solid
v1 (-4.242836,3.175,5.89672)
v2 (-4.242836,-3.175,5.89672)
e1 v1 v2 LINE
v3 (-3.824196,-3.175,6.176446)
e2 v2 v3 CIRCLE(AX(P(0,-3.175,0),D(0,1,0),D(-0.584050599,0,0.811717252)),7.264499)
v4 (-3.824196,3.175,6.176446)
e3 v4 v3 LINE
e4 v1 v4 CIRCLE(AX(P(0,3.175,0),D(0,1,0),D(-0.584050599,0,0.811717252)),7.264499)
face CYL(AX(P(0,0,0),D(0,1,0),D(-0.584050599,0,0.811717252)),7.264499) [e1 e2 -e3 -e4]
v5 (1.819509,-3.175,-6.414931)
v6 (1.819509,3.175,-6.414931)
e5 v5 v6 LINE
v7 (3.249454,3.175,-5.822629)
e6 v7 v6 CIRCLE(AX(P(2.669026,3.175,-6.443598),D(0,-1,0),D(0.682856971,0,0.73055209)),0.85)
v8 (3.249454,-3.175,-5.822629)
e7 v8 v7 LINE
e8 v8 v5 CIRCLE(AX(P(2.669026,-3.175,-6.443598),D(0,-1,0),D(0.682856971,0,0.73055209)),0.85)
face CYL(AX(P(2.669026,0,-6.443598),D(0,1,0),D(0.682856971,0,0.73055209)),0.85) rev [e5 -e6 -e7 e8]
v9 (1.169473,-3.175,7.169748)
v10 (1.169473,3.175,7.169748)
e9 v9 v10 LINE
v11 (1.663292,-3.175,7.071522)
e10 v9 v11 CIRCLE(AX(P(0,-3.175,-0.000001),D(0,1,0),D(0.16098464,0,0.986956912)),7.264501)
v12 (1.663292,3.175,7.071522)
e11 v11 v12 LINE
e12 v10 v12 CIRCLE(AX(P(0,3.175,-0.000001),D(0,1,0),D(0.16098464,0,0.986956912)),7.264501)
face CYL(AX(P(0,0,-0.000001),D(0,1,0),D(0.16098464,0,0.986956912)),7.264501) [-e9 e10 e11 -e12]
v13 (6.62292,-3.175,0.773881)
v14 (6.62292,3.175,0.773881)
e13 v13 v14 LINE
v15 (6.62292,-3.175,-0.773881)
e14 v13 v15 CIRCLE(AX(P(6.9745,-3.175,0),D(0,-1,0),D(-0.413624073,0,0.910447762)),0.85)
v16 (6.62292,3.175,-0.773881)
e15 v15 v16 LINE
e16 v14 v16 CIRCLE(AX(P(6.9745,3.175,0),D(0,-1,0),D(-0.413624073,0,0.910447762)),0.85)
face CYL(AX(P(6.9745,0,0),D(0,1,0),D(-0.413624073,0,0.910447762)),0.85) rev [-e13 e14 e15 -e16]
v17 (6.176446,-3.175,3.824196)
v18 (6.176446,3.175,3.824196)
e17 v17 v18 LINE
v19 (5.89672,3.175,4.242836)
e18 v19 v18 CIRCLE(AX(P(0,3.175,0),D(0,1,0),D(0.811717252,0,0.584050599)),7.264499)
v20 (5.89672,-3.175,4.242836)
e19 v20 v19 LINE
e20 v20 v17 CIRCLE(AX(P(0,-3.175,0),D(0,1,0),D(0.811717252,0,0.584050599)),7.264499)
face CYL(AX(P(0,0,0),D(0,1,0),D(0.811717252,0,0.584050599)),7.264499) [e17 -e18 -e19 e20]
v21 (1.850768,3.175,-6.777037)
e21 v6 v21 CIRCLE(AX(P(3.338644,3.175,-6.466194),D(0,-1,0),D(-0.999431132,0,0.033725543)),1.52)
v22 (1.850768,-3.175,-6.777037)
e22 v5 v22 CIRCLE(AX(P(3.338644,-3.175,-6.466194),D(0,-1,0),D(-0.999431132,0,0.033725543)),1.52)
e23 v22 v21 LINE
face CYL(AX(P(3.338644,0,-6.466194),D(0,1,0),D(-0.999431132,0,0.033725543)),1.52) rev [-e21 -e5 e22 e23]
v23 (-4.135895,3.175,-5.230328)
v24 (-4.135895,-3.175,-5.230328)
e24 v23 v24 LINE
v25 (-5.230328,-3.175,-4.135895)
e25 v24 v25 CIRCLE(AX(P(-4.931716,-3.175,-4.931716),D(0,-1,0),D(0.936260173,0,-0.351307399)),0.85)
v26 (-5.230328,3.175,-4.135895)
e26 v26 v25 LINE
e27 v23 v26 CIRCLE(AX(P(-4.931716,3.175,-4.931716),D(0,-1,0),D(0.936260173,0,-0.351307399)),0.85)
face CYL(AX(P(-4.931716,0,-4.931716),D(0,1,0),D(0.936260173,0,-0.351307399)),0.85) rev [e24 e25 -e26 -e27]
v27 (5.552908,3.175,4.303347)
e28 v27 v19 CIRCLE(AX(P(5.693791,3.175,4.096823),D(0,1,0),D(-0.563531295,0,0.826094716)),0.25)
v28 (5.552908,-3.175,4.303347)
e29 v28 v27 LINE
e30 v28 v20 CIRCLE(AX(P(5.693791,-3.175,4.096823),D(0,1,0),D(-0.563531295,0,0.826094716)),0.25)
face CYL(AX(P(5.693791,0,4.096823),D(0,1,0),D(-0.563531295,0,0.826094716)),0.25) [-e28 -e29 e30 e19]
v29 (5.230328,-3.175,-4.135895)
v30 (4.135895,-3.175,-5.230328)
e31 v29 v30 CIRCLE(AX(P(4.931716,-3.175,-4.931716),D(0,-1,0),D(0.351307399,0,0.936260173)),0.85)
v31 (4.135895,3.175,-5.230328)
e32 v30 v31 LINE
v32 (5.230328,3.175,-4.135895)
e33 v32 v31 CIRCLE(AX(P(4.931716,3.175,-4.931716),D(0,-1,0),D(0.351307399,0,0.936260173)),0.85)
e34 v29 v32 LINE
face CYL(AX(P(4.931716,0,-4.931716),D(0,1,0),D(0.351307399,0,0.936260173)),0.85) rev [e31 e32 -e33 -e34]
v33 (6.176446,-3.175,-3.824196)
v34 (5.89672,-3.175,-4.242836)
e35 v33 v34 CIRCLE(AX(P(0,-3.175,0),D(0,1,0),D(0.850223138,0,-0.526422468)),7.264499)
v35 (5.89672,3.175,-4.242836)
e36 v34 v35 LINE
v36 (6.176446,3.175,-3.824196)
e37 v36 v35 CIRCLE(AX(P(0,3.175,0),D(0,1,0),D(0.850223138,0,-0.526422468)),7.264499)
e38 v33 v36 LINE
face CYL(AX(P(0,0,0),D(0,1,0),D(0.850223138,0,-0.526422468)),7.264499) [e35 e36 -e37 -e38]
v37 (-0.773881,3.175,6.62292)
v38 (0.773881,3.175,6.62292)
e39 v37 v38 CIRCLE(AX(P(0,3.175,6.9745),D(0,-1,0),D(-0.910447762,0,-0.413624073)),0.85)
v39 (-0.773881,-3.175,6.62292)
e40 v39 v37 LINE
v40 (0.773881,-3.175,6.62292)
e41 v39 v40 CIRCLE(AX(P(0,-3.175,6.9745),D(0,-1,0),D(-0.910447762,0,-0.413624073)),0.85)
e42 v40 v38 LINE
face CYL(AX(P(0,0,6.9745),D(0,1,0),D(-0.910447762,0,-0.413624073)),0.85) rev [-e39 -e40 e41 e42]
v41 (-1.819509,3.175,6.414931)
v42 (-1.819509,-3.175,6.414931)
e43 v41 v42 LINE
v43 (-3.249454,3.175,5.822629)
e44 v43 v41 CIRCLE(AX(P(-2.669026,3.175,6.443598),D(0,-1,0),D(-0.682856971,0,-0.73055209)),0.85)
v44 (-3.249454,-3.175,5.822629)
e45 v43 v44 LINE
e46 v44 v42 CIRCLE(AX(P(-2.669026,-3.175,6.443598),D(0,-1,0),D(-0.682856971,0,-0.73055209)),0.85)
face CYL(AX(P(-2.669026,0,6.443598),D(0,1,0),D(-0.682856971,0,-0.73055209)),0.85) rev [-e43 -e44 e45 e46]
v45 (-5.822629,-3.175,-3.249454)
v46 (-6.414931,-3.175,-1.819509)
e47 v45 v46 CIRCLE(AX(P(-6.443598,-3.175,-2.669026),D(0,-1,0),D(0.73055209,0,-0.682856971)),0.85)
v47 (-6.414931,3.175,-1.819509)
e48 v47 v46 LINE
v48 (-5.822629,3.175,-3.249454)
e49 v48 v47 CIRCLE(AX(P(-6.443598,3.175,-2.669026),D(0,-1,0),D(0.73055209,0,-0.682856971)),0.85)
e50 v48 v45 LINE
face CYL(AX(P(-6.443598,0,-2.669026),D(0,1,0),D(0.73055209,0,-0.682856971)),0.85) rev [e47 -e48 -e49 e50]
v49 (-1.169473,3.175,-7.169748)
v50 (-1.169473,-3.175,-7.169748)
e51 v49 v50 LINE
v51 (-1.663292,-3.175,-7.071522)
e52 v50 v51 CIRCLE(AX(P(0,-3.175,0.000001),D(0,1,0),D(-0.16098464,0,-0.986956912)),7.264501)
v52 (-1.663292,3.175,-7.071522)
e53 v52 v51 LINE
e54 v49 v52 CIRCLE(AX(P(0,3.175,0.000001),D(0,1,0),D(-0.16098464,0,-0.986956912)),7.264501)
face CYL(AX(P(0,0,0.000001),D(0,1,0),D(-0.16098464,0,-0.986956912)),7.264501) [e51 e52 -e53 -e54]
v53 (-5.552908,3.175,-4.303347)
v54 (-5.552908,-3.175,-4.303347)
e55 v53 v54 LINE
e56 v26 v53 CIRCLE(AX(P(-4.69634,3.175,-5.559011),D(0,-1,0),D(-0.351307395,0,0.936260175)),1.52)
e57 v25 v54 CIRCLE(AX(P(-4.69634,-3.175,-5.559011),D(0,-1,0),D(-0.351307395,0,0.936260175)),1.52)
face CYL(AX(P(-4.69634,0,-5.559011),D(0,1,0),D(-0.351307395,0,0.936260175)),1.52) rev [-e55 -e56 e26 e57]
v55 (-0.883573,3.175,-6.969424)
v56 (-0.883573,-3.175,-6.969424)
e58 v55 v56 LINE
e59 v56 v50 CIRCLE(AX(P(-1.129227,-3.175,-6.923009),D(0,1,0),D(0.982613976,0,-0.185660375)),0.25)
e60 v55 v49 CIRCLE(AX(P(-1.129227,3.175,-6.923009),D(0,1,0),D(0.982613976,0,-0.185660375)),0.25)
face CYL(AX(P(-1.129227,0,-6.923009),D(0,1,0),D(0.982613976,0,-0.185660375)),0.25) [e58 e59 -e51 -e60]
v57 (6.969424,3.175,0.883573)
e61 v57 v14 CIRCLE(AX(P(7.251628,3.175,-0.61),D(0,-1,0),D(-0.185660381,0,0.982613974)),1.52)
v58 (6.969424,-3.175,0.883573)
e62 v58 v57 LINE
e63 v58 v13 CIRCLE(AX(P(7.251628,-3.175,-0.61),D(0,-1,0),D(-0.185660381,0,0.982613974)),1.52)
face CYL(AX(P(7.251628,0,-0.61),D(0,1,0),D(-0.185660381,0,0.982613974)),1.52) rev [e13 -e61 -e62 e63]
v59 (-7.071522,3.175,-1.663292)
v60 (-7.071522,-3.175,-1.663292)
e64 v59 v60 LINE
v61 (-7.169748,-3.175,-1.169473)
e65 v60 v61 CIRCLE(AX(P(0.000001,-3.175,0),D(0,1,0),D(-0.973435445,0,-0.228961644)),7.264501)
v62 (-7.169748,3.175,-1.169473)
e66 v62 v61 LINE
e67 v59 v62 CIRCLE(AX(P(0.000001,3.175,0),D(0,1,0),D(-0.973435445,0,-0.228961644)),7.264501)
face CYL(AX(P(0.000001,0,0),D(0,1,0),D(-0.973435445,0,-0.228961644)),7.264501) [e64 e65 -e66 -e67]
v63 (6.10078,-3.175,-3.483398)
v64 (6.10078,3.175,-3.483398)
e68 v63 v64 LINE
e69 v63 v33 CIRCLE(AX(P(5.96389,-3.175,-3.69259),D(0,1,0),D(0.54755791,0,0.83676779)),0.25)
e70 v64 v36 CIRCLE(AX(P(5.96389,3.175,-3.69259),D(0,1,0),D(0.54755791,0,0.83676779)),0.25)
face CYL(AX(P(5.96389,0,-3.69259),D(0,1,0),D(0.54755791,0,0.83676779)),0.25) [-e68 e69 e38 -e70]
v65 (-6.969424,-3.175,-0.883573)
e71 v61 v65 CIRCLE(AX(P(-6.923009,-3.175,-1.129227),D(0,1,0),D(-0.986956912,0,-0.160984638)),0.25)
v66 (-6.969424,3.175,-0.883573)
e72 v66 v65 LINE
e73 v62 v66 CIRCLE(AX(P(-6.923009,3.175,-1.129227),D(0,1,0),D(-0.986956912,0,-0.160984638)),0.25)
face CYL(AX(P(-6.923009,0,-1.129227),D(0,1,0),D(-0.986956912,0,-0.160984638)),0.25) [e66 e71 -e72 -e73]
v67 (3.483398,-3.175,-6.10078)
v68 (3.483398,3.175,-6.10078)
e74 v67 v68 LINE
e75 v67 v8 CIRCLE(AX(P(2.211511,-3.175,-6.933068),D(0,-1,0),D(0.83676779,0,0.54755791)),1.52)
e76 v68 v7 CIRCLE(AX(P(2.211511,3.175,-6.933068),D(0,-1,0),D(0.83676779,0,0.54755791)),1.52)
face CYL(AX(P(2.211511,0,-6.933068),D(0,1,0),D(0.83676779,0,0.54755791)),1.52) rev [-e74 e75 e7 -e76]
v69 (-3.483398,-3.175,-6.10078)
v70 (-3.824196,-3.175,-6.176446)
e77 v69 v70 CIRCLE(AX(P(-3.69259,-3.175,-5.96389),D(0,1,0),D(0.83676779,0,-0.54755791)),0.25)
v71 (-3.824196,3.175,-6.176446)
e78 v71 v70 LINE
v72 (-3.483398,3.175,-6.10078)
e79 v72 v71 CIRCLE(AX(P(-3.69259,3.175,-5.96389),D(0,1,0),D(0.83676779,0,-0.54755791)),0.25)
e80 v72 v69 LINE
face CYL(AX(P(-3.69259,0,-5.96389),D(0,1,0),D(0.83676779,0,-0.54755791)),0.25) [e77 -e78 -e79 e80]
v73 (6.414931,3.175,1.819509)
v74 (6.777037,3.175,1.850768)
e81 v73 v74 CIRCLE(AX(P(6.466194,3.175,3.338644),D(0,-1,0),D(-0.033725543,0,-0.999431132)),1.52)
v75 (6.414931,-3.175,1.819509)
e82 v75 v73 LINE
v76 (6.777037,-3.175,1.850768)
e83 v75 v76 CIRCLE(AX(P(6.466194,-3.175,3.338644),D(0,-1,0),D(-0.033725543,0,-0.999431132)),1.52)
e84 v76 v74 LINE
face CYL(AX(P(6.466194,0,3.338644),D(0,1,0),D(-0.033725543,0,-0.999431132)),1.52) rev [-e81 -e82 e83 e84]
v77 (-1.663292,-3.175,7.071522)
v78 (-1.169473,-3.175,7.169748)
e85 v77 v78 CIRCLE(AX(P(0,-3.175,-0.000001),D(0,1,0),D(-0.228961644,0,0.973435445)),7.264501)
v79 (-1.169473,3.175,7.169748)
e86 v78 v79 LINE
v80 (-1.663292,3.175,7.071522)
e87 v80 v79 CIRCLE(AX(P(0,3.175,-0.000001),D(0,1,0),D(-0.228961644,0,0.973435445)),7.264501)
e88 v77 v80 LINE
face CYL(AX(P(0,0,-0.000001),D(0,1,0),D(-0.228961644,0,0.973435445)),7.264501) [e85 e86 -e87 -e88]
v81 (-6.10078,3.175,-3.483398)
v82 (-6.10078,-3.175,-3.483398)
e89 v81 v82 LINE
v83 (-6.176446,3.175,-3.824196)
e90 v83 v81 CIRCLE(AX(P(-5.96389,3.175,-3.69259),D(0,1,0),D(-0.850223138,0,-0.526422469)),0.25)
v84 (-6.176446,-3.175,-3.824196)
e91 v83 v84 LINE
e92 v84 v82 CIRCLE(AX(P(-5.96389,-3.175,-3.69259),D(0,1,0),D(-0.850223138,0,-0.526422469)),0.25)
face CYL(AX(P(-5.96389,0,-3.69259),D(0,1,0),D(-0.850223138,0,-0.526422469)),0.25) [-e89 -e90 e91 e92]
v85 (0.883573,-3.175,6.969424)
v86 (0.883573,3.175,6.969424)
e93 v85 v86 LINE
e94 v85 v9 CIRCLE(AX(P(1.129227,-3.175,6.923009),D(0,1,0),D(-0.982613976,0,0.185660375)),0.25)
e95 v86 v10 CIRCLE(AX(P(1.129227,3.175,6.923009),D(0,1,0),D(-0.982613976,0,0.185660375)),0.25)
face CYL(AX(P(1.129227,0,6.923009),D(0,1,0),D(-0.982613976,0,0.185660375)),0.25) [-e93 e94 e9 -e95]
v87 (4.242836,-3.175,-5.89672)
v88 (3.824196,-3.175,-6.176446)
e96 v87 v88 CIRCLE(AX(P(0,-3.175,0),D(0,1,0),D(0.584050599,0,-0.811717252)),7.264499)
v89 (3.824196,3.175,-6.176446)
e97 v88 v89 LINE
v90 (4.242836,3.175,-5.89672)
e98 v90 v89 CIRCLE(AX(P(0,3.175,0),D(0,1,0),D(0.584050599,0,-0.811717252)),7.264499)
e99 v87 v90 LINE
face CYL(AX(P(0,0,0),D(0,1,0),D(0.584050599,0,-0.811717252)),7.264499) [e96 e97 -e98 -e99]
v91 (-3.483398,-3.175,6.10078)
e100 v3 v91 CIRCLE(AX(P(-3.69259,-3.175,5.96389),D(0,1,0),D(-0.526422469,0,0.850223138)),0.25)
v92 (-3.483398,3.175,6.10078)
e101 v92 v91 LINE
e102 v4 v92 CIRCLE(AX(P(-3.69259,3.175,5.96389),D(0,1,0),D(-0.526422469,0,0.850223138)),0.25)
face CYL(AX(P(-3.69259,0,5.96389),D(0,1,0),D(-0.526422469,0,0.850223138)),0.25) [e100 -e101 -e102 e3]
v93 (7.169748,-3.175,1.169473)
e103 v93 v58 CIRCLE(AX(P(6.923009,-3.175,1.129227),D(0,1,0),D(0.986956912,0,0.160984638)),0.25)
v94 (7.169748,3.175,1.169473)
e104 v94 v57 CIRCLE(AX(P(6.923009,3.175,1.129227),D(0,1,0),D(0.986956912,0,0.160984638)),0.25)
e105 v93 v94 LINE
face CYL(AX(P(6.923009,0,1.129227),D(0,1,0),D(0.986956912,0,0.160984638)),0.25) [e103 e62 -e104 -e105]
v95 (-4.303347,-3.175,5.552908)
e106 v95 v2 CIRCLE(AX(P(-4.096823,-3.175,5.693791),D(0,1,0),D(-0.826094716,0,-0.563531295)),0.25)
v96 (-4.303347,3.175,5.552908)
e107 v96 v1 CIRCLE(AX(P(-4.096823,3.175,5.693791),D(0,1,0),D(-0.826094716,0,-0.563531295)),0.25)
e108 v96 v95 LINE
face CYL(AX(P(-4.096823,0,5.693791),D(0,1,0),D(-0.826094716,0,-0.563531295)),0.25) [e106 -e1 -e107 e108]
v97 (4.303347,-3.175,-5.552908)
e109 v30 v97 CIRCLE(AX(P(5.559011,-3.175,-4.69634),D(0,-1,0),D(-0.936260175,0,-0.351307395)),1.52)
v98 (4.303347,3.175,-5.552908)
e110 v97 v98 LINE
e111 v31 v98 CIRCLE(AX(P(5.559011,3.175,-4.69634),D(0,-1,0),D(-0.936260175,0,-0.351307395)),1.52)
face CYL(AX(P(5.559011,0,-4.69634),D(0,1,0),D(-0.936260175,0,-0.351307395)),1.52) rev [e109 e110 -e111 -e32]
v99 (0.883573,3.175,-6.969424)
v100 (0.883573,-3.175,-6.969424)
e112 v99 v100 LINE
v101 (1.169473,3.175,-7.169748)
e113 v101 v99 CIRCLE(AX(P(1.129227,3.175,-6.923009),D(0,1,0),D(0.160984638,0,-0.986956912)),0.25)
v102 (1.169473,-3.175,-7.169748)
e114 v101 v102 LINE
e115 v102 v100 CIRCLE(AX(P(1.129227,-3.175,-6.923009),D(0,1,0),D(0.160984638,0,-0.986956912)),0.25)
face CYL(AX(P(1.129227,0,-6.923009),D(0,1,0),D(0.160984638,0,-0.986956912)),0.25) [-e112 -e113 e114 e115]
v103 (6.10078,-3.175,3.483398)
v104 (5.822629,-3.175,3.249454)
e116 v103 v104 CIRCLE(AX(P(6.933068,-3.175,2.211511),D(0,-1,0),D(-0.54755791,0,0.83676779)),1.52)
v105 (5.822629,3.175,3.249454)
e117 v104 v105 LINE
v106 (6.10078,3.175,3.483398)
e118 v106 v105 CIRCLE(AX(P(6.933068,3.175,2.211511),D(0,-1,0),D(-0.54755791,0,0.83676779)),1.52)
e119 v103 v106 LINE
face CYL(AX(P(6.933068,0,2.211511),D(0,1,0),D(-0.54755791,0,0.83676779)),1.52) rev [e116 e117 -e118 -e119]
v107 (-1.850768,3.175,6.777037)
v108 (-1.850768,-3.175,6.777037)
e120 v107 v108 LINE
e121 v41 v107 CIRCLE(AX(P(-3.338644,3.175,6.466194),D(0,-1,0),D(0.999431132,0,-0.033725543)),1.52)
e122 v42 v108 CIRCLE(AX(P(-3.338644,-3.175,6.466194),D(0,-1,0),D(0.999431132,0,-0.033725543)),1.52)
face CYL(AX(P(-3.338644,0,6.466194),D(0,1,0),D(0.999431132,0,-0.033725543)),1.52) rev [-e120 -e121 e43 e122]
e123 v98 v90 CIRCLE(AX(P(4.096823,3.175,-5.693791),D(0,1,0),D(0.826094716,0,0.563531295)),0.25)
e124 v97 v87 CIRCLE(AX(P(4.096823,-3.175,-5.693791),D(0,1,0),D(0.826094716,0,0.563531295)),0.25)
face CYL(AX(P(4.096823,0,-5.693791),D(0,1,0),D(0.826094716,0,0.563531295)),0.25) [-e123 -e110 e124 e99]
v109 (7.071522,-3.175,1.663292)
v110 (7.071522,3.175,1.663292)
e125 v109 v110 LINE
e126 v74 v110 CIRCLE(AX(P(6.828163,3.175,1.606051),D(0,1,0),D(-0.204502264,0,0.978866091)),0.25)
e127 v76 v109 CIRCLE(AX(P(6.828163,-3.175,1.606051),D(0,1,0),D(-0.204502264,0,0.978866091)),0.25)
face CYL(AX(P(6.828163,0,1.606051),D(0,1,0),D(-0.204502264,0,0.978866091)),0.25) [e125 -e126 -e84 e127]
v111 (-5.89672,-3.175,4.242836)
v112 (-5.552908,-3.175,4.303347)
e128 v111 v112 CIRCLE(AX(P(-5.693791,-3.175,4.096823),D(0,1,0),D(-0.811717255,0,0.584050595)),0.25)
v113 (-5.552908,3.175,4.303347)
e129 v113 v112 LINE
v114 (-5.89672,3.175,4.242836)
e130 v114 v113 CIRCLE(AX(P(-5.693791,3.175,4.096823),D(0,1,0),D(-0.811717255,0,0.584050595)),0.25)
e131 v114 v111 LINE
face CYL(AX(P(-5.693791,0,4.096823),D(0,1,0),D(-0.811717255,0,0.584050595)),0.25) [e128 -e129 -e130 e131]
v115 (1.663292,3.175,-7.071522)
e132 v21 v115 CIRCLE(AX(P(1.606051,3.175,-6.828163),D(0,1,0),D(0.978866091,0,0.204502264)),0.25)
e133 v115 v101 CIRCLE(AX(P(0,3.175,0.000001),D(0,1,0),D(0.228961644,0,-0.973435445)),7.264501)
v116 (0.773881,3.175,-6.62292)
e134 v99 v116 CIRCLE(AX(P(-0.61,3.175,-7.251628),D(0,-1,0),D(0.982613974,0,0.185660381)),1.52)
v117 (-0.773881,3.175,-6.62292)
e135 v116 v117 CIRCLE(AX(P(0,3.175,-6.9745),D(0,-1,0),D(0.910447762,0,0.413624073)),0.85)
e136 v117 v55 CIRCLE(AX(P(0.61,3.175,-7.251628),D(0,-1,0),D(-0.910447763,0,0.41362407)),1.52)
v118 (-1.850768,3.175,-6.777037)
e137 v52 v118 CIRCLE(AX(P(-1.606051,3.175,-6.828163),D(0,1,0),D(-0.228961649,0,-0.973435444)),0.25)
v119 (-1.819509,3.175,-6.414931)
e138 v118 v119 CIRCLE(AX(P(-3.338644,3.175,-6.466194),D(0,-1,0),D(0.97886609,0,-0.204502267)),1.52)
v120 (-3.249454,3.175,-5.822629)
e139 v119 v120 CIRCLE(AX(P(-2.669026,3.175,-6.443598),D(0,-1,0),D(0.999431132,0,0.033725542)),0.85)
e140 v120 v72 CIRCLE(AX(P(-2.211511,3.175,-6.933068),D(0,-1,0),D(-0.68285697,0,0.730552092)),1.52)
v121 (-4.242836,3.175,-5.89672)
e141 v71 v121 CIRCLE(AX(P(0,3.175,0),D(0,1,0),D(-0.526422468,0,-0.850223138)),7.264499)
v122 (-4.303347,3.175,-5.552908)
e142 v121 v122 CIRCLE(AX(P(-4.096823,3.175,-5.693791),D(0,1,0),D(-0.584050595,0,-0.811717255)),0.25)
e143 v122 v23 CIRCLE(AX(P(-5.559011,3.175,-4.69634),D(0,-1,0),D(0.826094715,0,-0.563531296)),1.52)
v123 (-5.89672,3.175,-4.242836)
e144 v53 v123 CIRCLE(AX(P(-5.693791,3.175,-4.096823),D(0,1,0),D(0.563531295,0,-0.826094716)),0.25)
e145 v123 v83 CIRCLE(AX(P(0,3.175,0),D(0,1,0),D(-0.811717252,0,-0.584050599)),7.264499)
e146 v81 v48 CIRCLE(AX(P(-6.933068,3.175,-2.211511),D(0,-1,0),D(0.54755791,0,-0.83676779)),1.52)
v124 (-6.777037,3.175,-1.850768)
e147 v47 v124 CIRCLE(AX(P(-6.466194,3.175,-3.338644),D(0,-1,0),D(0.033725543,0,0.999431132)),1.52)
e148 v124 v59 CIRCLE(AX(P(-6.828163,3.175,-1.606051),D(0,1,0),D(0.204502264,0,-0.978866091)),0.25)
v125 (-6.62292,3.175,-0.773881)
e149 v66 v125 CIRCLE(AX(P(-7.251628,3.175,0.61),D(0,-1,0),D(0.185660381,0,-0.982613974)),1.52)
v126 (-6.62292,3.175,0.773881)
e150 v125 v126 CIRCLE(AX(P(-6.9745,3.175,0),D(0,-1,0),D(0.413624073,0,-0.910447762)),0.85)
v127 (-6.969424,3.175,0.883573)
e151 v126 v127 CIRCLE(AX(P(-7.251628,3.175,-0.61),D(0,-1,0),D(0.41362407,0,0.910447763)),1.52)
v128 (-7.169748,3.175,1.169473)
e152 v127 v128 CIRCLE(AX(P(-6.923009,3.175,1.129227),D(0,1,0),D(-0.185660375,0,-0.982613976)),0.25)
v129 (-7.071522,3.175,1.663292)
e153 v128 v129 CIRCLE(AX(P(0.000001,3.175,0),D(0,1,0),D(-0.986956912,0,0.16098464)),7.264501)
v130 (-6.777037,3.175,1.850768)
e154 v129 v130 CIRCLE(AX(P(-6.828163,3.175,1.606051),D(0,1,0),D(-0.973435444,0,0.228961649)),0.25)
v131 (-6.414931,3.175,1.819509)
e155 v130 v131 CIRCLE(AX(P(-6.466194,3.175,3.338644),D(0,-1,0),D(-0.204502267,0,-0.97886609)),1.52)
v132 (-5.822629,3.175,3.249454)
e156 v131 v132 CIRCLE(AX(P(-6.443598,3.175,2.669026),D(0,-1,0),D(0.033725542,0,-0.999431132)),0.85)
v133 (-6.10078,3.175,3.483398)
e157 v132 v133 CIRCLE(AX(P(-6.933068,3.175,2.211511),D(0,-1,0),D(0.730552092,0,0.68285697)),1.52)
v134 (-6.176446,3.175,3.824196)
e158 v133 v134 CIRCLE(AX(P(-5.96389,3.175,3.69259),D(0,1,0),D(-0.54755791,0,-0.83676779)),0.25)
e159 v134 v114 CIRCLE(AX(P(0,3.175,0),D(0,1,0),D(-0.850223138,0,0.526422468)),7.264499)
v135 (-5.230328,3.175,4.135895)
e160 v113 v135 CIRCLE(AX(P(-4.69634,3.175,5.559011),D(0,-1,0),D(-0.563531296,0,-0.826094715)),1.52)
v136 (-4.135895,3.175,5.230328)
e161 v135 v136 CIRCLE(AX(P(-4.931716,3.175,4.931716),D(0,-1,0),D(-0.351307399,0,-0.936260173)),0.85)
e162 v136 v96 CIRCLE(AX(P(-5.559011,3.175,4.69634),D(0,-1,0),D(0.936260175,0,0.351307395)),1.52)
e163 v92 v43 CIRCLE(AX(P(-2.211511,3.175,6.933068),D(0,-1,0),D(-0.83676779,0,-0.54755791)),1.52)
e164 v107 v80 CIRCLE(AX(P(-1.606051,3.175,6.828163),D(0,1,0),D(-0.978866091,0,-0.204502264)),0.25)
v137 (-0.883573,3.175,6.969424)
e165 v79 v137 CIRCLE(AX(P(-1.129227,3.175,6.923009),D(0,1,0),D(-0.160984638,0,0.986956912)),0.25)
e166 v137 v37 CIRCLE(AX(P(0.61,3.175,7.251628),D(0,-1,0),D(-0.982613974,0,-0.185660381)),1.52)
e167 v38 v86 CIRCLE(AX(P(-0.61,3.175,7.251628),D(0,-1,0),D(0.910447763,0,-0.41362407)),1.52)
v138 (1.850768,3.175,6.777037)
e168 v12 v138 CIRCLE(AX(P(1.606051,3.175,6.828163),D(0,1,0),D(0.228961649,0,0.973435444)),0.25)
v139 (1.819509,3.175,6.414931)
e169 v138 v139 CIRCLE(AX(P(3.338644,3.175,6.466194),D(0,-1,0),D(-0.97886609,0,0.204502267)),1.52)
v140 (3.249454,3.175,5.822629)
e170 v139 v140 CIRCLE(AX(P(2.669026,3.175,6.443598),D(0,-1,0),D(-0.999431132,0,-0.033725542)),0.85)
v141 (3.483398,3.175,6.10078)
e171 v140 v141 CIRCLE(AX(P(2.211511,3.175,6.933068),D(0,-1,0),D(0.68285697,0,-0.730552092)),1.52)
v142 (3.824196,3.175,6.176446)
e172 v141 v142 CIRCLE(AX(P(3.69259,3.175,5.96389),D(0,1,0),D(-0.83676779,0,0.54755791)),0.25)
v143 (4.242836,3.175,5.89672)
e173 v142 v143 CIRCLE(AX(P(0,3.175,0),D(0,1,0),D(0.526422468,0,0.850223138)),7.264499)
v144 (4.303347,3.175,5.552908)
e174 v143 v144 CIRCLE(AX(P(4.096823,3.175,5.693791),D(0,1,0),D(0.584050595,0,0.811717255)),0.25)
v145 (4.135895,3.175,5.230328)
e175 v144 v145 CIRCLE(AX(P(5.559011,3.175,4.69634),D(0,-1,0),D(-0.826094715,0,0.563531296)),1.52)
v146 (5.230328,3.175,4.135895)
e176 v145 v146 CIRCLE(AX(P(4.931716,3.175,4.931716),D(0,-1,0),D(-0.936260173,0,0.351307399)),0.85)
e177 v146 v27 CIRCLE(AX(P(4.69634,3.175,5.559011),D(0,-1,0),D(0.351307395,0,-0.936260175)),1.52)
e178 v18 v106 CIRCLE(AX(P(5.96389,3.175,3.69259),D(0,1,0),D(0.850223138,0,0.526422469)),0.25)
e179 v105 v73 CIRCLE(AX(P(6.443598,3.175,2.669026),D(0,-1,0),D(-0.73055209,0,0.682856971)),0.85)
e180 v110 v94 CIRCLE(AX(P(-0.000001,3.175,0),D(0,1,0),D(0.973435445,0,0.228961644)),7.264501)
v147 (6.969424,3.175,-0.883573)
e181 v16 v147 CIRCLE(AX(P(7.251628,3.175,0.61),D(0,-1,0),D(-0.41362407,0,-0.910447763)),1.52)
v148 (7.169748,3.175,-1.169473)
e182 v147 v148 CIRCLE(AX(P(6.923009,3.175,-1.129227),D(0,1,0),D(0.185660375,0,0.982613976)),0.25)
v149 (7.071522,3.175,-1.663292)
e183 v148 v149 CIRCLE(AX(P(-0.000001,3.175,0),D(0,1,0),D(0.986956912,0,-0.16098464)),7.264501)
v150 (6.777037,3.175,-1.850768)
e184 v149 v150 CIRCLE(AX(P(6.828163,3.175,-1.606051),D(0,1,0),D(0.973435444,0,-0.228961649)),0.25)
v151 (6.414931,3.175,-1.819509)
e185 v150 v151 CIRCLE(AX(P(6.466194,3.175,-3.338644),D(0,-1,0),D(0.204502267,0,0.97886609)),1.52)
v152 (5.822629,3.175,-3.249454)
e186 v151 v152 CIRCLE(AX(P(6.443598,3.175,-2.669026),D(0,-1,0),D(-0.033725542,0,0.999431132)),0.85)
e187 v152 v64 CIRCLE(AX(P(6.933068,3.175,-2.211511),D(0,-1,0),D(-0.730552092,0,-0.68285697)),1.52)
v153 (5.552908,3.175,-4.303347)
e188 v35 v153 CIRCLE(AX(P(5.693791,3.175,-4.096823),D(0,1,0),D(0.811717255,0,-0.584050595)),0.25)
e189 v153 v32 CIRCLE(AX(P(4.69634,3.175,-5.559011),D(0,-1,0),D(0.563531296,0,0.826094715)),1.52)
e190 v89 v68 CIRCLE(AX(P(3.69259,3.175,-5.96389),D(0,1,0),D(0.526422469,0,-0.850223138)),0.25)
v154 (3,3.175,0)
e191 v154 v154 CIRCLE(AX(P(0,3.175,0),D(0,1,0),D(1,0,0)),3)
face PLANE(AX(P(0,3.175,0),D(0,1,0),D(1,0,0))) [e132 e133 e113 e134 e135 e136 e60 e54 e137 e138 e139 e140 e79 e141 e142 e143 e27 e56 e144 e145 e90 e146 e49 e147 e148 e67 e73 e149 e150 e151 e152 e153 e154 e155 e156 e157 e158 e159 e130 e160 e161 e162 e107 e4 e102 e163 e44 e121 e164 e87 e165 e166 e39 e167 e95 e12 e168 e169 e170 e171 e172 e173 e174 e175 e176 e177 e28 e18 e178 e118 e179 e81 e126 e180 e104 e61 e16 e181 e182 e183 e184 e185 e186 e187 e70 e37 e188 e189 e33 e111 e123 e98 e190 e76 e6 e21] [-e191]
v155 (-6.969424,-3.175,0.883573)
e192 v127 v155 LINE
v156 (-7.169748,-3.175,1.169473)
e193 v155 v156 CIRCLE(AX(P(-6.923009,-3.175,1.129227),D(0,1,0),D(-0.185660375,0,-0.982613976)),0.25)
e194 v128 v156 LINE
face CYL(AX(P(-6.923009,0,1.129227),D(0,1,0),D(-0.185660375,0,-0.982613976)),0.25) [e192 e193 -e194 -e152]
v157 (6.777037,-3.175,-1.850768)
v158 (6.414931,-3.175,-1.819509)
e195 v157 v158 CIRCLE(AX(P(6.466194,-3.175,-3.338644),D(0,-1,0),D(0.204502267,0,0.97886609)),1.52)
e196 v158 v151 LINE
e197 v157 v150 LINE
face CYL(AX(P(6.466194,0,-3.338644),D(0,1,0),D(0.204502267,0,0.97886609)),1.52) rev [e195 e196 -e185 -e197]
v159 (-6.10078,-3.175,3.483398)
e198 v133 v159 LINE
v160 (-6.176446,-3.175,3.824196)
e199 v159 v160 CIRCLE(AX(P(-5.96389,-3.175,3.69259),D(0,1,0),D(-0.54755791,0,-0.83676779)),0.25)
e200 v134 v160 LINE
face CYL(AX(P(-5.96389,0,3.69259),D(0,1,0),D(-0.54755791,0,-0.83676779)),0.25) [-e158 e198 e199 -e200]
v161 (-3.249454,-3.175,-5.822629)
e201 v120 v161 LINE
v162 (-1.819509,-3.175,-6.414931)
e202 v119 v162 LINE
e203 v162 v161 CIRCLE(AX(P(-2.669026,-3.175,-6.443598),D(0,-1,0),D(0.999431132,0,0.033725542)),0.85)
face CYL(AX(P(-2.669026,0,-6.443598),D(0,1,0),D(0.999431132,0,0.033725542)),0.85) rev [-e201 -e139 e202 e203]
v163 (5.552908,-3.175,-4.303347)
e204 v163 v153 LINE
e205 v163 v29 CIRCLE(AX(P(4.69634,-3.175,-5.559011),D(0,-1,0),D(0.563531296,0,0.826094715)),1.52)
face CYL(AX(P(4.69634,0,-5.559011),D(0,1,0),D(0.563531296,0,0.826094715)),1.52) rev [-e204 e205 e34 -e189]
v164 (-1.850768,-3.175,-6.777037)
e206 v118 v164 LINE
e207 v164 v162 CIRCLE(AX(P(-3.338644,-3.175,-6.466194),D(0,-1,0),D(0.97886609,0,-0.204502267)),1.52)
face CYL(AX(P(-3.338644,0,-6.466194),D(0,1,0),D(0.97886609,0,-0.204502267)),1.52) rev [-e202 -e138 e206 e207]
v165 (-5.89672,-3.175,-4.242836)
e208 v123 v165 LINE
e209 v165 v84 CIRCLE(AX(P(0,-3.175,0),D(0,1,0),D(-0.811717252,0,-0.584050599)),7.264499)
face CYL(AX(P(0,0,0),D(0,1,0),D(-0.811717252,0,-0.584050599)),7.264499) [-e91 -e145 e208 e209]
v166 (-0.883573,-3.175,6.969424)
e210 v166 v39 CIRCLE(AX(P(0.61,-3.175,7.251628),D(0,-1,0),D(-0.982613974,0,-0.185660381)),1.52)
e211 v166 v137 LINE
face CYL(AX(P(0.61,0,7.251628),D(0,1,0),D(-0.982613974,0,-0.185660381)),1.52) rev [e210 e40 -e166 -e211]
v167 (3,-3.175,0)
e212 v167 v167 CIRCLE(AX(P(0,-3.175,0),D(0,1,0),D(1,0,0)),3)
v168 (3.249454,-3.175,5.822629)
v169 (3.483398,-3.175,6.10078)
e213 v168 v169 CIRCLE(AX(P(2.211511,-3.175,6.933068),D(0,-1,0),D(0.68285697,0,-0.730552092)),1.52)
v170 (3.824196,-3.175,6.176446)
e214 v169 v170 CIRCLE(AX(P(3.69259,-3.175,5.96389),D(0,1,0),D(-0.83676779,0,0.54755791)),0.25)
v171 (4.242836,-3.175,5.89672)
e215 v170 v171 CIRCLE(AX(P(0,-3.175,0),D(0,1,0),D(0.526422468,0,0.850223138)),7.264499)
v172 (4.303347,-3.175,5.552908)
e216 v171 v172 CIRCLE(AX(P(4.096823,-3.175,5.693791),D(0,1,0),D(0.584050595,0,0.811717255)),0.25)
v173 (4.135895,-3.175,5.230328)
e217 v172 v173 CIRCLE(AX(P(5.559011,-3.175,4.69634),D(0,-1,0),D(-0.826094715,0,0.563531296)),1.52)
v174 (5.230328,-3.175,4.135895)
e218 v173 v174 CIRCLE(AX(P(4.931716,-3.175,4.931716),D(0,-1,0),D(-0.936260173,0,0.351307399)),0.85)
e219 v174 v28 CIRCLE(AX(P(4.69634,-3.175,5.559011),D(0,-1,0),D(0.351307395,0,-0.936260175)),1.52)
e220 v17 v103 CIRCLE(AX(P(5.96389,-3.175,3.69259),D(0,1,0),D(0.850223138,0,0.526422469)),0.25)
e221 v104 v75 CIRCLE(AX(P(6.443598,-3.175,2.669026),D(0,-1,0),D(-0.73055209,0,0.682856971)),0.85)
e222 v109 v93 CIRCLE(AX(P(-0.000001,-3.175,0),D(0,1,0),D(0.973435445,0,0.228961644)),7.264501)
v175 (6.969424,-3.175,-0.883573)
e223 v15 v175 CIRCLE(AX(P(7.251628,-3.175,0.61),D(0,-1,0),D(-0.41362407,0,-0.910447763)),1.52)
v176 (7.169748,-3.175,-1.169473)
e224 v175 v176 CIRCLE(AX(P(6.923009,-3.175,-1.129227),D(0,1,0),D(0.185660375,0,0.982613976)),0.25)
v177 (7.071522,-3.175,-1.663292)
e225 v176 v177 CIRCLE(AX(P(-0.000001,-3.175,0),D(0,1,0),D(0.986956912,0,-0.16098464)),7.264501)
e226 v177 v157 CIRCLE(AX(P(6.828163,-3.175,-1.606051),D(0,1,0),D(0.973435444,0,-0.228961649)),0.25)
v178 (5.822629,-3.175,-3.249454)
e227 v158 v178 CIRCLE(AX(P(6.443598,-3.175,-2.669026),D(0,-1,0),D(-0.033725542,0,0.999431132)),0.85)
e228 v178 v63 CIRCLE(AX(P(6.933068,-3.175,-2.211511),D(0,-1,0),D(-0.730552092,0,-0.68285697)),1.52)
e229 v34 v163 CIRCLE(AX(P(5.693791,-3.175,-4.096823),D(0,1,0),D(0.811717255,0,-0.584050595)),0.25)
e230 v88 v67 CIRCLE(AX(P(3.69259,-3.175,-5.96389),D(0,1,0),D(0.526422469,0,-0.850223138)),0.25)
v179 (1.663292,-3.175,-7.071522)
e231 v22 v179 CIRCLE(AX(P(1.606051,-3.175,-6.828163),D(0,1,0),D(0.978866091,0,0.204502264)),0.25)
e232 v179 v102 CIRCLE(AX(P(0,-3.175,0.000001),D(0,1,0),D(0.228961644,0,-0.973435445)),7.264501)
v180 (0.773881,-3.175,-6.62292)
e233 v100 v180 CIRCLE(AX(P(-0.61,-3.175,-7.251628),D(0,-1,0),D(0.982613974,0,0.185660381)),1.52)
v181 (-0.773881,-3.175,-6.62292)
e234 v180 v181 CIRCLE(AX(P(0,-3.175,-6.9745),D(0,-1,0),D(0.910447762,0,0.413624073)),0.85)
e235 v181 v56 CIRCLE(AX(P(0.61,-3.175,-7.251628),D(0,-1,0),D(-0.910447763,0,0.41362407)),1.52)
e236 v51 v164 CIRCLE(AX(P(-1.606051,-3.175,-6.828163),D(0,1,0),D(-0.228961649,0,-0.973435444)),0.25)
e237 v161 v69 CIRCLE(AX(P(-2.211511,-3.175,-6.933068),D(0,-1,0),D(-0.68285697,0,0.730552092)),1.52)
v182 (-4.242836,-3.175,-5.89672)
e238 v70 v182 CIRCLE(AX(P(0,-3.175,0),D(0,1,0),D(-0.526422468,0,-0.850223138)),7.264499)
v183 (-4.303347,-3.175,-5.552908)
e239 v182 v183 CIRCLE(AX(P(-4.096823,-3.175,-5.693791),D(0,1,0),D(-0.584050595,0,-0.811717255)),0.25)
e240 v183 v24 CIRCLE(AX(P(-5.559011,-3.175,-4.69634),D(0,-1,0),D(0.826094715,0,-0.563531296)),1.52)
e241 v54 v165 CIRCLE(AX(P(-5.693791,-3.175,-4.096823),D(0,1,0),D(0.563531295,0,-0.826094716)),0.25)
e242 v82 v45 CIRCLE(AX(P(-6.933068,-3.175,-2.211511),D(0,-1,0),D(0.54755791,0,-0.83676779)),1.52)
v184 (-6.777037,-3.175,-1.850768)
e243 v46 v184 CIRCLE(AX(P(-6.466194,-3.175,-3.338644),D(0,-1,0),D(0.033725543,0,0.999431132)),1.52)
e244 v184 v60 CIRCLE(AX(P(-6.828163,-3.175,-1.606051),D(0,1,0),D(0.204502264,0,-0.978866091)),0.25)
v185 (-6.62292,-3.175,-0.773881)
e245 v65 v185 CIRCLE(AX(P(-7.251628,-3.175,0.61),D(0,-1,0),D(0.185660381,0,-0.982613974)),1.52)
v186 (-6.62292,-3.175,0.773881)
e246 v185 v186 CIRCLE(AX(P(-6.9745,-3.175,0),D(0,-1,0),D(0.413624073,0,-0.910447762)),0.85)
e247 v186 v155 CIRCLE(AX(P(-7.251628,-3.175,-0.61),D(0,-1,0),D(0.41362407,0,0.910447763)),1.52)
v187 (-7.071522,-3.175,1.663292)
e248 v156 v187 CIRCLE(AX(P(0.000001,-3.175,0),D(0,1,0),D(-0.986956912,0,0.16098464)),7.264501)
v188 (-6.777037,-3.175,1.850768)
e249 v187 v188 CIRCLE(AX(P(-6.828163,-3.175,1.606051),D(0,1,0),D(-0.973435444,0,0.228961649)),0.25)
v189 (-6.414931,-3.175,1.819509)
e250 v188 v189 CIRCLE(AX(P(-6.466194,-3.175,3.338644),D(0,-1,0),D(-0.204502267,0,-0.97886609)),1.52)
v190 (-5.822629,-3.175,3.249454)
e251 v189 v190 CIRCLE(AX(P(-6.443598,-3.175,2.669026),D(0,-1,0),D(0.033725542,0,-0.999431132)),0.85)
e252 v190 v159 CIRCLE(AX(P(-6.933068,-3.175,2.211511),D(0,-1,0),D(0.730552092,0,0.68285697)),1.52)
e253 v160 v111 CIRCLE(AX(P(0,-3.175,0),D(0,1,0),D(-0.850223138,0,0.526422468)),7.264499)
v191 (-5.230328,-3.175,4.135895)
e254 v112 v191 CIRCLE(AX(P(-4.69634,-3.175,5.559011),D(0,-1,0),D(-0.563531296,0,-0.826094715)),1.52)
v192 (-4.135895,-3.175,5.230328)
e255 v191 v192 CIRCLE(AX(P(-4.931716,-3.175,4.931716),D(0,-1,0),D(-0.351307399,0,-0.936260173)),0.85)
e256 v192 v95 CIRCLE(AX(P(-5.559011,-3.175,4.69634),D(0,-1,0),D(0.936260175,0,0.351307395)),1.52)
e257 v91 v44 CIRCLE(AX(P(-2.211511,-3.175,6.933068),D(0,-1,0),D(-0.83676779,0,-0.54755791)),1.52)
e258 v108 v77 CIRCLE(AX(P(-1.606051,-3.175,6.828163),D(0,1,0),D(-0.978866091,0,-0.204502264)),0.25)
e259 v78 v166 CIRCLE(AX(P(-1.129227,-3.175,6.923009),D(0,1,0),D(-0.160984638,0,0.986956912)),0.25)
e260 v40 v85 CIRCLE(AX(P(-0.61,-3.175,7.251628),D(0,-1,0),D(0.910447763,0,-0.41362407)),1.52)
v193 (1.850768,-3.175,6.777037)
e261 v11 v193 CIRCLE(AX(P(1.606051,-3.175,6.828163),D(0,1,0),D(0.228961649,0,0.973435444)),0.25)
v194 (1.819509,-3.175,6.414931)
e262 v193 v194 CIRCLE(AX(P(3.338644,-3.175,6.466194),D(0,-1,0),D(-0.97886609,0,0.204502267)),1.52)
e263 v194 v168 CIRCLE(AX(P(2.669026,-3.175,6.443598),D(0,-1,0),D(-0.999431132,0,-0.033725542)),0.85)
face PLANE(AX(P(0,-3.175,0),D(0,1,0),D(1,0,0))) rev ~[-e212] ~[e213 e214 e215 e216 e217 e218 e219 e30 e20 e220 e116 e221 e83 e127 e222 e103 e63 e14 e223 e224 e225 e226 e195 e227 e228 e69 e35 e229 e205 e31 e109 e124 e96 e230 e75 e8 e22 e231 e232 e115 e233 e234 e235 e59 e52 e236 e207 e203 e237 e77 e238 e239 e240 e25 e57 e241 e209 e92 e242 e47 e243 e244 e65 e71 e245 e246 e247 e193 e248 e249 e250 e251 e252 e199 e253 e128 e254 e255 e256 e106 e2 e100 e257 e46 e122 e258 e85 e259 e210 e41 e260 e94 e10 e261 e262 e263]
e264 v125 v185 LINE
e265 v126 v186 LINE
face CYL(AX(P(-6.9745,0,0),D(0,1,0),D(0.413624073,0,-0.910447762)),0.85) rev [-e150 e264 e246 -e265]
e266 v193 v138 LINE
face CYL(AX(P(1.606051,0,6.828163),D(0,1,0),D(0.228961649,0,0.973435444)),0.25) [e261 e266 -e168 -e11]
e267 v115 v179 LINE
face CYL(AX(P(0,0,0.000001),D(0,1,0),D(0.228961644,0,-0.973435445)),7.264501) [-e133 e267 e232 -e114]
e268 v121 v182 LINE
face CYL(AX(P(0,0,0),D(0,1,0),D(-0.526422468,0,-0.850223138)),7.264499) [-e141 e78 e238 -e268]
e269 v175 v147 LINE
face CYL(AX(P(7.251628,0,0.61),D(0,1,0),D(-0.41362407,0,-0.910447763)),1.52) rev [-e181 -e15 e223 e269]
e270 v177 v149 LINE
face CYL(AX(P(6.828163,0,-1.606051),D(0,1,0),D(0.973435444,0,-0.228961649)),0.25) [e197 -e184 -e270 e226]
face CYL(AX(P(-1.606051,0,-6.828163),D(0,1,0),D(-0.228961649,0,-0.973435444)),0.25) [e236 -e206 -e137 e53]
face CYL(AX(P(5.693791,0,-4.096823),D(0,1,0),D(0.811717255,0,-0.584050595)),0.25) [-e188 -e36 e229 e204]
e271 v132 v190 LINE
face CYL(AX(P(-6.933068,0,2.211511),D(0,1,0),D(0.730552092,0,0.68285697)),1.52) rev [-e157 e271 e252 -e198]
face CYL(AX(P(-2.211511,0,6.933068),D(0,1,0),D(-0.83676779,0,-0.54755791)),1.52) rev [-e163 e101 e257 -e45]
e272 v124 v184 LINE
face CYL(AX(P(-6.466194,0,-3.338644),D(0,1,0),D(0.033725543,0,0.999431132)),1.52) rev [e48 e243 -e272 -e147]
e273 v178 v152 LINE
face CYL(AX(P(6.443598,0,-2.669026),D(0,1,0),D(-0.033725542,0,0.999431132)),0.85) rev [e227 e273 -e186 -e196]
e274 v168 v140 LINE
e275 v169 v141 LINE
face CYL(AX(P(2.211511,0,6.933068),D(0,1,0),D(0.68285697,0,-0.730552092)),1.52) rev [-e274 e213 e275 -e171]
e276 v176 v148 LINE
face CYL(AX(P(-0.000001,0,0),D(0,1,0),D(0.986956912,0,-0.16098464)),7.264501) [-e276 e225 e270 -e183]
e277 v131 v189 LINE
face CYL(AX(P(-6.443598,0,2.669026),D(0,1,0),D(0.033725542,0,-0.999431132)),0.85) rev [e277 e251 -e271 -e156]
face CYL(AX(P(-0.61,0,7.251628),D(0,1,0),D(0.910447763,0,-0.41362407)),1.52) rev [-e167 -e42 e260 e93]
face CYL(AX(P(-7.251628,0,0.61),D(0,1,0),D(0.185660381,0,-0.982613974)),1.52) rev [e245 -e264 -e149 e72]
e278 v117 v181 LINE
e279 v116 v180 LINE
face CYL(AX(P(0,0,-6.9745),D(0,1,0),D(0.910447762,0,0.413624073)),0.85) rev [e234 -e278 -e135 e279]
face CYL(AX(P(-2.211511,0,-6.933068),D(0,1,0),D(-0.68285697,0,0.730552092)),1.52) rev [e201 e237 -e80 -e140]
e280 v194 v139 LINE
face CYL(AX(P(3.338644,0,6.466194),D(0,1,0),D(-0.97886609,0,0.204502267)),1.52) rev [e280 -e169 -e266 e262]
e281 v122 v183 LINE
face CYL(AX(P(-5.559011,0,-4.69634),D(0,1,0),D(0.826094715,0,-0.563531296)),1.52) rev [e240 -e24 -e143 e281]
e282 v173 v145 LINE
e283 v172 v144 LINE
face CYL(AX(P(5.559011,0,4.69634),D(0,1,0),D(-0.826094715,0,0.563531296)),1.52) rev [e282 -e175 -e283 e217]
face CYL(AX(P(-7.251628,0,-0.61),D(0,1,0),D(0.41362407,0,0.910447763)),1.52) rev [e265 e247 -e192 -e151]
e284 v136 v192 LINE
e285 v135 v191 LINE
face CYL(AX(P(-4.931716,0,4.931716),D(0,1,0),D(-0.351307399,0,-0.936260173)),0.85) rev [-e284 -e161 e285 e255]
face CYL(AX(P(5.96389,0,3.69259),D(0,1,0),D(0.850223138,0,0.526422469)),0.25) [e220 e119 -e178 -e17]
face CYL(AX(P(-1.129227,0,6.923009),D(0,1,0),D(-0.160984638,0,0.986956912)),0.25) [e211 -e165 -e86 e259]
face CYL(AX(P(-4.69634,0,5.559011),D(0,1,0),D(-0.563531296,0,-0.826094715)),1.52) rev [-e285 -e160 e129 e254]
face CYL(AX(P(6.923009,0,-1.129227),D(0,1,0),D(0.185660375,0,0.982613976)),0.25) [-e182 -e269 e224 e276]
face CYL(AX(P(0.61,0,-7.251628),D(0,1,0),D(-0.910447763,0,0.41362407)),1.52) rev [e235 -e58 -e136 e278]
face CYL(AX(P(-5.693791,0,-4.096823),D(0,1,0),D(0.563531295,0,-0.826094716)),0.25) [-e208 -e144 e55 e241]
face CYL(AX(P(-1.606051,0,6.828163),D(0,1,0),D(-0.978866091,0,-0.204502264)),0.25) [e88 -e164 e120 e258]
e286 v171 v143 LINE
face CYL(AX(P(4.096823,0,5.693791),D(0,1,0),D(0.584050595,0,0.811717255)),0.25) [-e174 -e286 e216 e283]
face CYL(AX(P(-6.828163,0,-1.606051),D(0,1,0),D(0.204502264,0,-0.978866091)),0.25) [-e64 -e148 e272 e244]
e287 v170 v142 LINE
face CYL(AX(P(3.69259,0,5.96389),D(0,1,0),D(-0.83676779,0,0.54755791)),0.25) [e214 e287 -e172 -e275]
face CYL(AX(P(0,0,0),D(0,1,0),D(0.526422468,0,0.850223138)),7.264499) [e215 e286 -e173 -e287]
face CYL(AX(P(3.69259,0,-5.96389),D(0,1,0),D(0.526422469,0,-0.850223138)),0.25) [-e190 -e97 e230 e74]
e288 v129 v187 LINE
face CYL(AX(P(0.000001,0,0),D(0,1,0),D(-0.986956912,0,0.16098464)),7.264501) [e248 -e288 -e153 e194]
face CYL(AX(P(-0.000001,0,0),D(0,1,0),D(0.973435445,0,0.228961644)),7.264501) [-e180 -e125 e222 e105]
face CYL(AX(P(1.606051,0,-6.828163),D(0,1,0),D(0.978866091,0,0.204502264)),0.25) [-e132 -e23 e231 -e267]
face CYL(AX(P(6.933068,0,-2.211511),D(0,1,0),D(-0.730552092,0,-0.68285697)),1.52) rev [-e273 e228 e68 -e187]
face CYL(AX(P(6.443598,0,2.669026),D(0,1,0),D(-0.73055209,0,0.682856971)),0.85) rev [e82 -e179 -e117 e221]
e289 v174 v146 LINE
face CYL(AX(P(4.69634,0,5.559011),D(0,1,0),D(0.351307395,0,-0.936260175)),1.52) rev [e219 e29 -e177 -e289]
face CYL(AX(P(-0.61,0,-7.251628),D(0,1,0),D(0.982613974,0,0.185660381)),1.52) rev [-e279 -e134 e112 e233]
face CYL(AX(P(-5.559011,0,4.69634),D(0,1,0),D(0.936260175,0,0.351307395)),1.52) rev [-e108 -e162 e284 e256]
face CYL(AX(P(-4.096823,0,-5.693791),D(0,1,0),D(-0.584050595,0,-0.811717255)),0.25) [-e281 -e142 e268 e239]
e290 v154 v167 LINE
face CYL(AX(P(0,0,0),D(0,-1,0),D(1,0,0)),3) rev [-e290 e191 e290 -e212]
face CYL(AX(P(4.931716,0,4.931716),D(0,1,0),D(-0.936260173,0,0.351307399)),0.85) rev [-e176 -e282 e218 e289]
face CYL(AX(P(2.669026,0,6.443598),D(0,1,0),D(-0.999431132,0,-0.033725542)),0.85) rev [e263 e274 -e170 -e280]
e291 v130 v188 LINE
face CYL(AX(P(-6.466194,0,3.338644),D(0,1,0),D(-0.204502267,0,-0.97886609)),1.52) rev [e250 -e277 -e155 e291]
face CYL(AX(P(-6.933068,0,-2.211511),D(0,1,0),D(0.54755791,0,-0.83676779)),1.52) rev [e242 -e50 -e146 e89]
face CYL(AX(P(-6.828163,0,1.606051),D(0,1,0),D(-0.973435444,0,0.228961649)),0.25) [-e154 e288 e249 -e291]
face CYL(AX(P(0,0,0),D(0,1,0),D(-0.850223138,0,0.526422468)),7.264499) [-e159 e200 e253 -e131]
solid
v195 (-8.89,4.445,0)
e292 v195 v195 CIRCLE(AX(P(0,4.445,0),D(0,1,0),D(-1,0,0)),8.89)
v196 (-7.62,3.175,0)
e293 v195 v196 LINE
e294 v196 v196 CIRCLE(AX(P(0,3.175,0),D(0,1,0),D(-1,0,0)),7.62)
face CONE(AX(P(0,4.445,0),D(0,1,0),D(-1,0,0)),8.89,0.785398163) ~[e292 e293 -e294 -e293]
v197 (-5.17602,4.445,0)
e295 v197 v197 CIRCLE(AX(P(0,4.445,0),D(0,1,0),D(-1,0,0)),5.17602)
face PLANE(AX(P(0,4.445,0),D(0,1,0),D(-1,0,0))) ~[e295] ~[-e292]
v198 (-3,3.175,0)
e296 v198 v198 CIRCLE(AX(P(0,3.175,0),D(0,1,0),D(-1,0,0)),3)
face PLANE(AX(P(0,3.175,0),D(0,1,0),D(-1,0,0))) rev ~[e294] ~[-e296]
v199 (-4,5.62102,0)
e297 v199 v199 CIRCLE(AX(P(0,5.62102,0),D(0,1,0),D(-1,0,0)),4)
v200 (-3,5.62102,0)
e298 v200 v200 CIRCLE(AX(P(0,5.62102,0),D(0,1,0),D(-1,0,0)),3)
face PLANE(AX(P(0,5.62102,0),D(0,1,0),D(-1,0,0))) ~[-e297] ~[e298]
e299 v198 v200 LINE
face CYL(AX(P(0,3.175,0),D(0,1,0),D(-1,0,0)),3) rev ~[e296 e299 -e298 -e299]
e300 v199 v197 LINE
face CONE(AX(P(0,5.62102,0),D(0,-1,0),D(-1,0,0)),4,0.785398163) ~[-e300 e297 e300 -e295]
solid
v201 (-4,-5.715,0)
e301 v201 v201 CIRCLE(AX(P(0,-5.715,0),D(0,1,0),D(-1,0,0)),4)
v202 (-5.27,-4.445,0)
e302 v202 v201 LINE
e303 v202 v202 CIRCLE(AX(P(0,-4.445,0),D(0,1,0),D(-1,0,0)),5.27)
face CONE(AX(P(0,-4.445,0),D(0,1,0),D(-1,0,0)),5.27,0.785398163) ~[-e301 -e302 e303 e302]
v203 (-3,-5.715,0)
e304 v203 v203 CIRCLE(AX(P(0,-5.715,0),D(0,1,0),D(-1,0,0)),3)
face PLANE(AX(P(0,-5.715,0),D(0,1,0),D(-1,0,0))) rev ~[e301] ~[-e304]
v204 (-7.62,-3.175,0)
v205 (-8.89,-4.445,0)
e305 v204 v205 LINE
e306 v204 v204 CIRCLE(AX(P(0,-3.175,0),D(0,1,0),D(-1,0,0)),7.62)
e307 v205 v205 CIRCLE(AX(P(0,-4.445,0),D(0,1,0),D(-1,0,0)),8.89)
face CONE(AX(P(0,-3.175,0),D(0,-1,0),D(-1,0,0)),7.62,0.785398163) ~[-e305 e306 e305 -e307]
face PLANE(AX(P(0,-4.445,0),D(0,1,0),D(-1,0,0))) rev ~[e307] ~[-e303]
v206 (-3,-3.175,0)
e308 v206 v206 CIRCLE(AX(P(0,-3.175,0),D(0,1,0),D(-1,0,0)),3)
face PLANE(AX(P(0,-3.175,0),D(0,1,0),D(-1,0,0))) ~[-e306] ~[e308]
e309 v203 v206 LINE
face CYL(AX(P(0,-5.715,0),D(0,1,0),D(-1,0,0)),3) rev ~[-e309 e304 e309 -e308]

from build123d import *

# Parameters (mm, degrees)
SKETCH1_R           = 3
BOSS_EXTRUDE1_DEPTH = 3.175


with BuildPart() as part:
    # Sketch1 → Boss-Extrude1 (new body, symmetric)
    with BuildSketch(Plane(origin=(0, 0, 0), x_dir=(1, 0, 0), z_dir=(0, 1, 0))):
        with BuildLine():
            ThreePointArc((-1.850768, -6.777037356), (-1.816941892, -6.962421006), (-1.663291889, -7.071521784))
            ThreePointArc((-1.663291889, -7.071521784), (-1.417233644, -7.124914669), (-1.169472895, -7.169748489))
            ThreePointArc((-1.169472895, -7.169748489), (-0.985767742, -7.127751824), (-0.883573242, -6.969424355))
            ThreePointArc((-0.883573242, -6.969424355), (-0.839120956, -6.792881518), (-0.773880597, -6.622919538))
            ThreePointArc((-0.773880597, -6.622919538), (0, -6.1245), (0.773880597, -6.622919538))
            ThreePointArc((0.773880597, -6.622919538), (0.839120956, -6.792881518), (0.883573242, -6.969424355))
            ThreePointArc((0.883573242, -6.969424355), (0.985767742, -7.127751824), (1.169472895, -7.169748489))
            ThreePointArc((1.169472895, -7.169748489), (1.417233644, -7.124914669), (1.663291889, -7.071521784))
            ThreePointArc((1.663291889, -7.071521784), (1.816941892, -6.962421006), (1.850768, -6.777037356))
            ThreePointArc((1.850768, -6.777037356), (1.824276538, -6.596921889), (1.819509137, -6.414931089))
            ThreePointArc((1.819509137, -6.414931089), (2.343744682, -5.658300197), (3.249454025, -5.822628523))
            ThreePointArc((3.249454025, -5.822628523), (3.374769892, -5.954686513), (3.483398468, -6.100779674))
            ThreePointArc((3.483398468, -6.100779674), (3.638403174, -6.20794704), (3.824196033, -6.176445981))
            ThreePointArc((3.824196033, -6.176445981), (4.035939958, -6.040210999), (4.242835561, -5.896719991))
            ThreePointArc((4.242835561, -5.896719991), (4.343038594, -5.737124705), (4.303346591, -5.552907854))
            ThreePointArc((4.303346591, -5.552907854), (4.209944466, -5.396640704), (4.135895098, -5.230327534))
            ThreePointArc((4.135895098, -5.230327534), (4.330675481, -4.330675481), (5.230327534, -4.135895098))
            ThreePointArc((5.230327534, -4.135895098), (5.396640704, -4.209944466), (5.552907854, -4.303346591))
            ThreePointArc((5.552907854, -4.303346591), (5.737124705, -4.343038594), (5.896719991, -4.242835561))
            ThreePointArc((5.896719991, -4.242835561), (6.040210999, -4.035939958), (6.176445981, -3.824196033))
            ThreePointArc((6.176445981, -3.824196033), (6.20794704, -3.638403174), (6.100779674, -3.483398468))
            ThreePointArc((6.100779674, -3.483398468), (5.954686513, -3.374769892), (5.822628523, -3.249454025))
            ThreePointArc((5.822628523, -3.249454025), (5.658300197, -2.343744682), (6.414931089, -1.819509137))
            ThreePointArc((6.414931089, -1.819509137), (6.596921889, -1.824276538), (6.777037356, -1.850768))
            ThreePointArc((6.777037356, -1.850768), (6.962421006, -1.816941892), (7.071521784, -1.663291889))
            ThreePointArc((7.071521784, -1.663291889), (7.124914669, -1.417233644), (7.169748489, -1.169472895))
            ThreePointArc((7.169748489, -1.169472895), (7.127751824, -0.985767742), (6.969424355, -0.883573242))
            ThreePointArc((6.969424355, -0.883573242), (6.792881518, -0.839120956), (6.622919538, -0.773880597))
            ThreePointArc((6.622919538, -0.773880597), (6.1245, 0), (6.622919538, 0.773880597))
            ThreePointArc((6.622919538, 0.773880597), (6.792881518, 0.839120956), (6.969424355, 0.883573242))
            ThreePointArc((6.969424355, 0.883573242), (7.127751824, 0.985767742), (7.169748489, 1.169472895))
            ThreePointArc((7.169748489, 1.169472895), (7.124914669, 1.417233644), (7.071521784, 1.663291889))
            ThreePointArc((7.071521784, 1.663291889), (6.962421006, 1.816941892), (6.777037356, 1.850768))
            ThreePointArc((6.777037356, 1.850768), (6.596921889, 1.824276538), (6.414931089, 1.819509137))
            ThreePointArc((6.414931089, 1.819509137), (5.658300197, 2.343744682), (5.822628523, 3.249454025))
            ThreePointArc((5.822628523, 3.249454025), (5.954686513, 3.374769892), (6.100779674, 3.483398468))
            ThreePointArc((6.100779674, 3.483398468), (6.20794704, 3.638403174), (6.176445981, 3.824196033))
            ThreePointArc((6.176445981, 3.824196033), (6.040210999, 4.035939958), (5.896719991, 4.242835561))
            ThreePointArc((5.896719991, 4.242835561), (5.737124705, 4.343038594), (5.552907854, 4.303346591))
            ThreePointArc((5.552907854, 4.303346591), (5.396640704, 4.209944466), (5.230327534, 4.135895098))
            ThreePointArc((5.230327534, 4.135895098), (4.330675481, 4.330675481), (4.135895098, 5.230327534))
            ThreePointArc((4.135895098, 5.230327534), (4.209944466, 5.396640704), (4.303346591, 5.552907854))
            ThreePointArc((4.303346591, 5.552907854), (4.343038594, 5.737124705), (4.242835561, 5.896719991))
            ThreePointArc((4.242835561, 5.896719991), (4.035939958, 6.040210999), (3.824196033, 6.176445981))
            ThreePointArc((3.824196033, 6.176445981), (3.638403174, 6.20794704), (3.483398468, 6.100779674))
            ThreePointArc((3.483398468, 6.100779674), (3.374769892, 5.954686513), (3.249454025, 5.822628523))
            ThreePointArc((3.249454025, 5.822628523), (2.343744682, 5.658300197), (1.819509137, 6.414931089))
            ThreePointArc((1.819509137, 6.414931089), (1.824276538, 6.596921889), (1.850768, 6.777037356))
            ThreePointArc((1.850768, 6.777037356), (1.816941892, 6.962421006), (1.663291889, 7.071521784))
            ThreePointArc((1.663291889, 7.071521784), (1.417233644, 7.124914669), (1.169472895, 7.169748489))
            ThreePointArc((1.169472895, 7.169748489), (0.985767742, 7.127751824), (0.883573242, 6.969424355))
            ThreePointArc((0.883573242, 6.969424355), (0.839120956, 6.792881518), (0.773880597, 6.622919538))
            ThreePointArc((0.773880597, 6.622919538), (0, 6.1245), (-0.773880597, 6.622919538))
            ThreePointArc((-0.773880597, 6.622919538), (-0.839120956, 6.792881518), (-0.883573242, 6.969424355))
            ThreePointArc((-0.883573242, 6.969424355), (-0.985767742, 7.127751824), (-1.169472895, 7.169748489))
            ThreePointArc((-1.169472895, 7.169748489), (-1.417233644, 7.124914669), (-1.663291889, 7.071521784))
            ThreePointArc((-1.663291889, 7.071521784), (-1.816941892, 6.962421006), (-1.850768, 6.777037356))
            ThreePointArc((-1.850768, 6.777037356), (-1.824276538, 6.596921889), (-1.819509137, 6.414931089))
            ThreePointArc((-1.819509137, 6.414931089), (-2.343744682, 5.658300197), (-3.249454025, 5.822628523))
            ThreePointArc((-3.249454025, 5.822628523), (-3.374769892, 5.954686513), (-3.483398468, 6.100779674))
            ThreePointArc((-3.483398468, 6.100779674), (-3.638403174, 6.20794704), (-3.824196033, 6.176445981))
            ThreePointArc((-3.824196033, 6.176445981), (-4.035939958, 6.040210999), (-4.242835561, 5.896719991))
            ThreePointArc((-4.242835561, 5.896719991), (-4.343038594, 5.737124705), (-4.303346591, 5.552907854))
            ThreePointArc((-4.303346591, 5.552907854), (-4.209944466, 5.396640704), (-4.135895098, 5.230327534))
            ThreePointArc((-4.135895098, 5.230327534), (-4.330675481, 4.330675481), (-5.230327534, 4.135895098))
            ThreePointArc((-5.230327534, 4.135895098), (-5.396640704, 4.209944466), (-5.552907854, 4.303346591))
            ThreePointArc((-5.552907854, 4.303346591), (-5.737124705, 4.343038594), (-5.896719991, 4.242835561))
            ThreePointArc((-5.896719991, 4.242835561), (-6.040210999, 4.035939958), (-6.176445981, 3.824196033))
            ThreePointArc((-6.176445981, 3.824196033), (-6.20794704, 3.638403174), (-6.100779674, 3.483398468))
            ThreePointArc((-6.100779674, 3.483398468), (-5.954686513, 3.374769892), (-5.822628523, 3.249454025))
            ThreePointArc((-5.822628523, 3.249454025), (-5.658300197, 2.343744682), (-6.414931089, 1.819509137))
            ThreePointArc((-6.414931089, 1.819509137), (-6.596921889, 1.824276538), (-6.777037356, 1.850768))
            ThreePointArc((-6.777037356, 1.850768), (-6.962421006, 1.816941892), (-7.071521784, 1.663291889))
            ThreePointArc((-7.071521784, 1.663291889), (-7.124914669, 1.417233644), (-7.169748489, 1.169472895))
            ThreePointArc((-7.169748489, 1.169472895), (-7.127751824, 0.985767742), (-6.969424355, 0.883573242))
            ThreePointArc((-6.969424355, 0.883573242), (-6.792881518, 0.839120956), (-6.622919538, 0.773880597))
            ThreePointArc((-6.622919538, 0.773880597), (-6.1245, 0), (-6.622919538, -0.773880597))
            ThreePointArc((-6.622919538, -0.773880597), (-6.792881518, -0.839120956), (-6.969424355, -0.883573242))
            ThreePointArc((-6.969424355, -0.883573242), (-7.127751824, -0.985767742), (-7.169748489, -1.169472895))
            ThreePointArc((-7.169748489, -1.169472895), (-7.124914669, -1.417233644), (-7.071521784, -1.663291889))
            ThreePointArc((-7.071521784, -1.663291889), (-6.962421006, -1.816941892), (-6.777037356, -1.850768))
            ThreePointArc((-6.777037356, -1.850768), (-6.596921889, -1.824276538), (-6.414931089, -1.819509137))
            ThreePointArc((-6.414931089, -1.819509137), (-5.658300197, -2.343744682), (-5.822628523, -3.249454025))
            ThreePointArc((-5.822628523, -3.249454025), (-5.954686513, -3.374769892), (-6.100779674, -3.483398468))
            ThreePointArc((-6.100779674, -3.483398468), (-6.20794704, -3.638403174), (-6.176445981, -3.824196033))
            ThreePointArc((-6.176445981, -3.824196033), (-6.040210999, -4.035939958), (-5.896719991, -4.242835561))
            ThreePointArc((-5.896719991, -4.242835561), (-5.737124705, -4.343038594), (-5.552907854, -4.303346591))
            ThreePointArc((-5.552907854, -4.303346591), (-5.396640704, -4.209944466), (-5.230327534, -4.135895098))
            ThreePointArc((-5.230327534, -4.135895098), (-4.330675481, -4.330675481), (-4.135895098, -5.230327534))
            ThreePointArc((-4.135895098, -5.230327534), (-4.209944466, -5.396640704), (-4.303346591, -5.552907854))
            ThreePointArc((-4.303346591, -5.552907854), (-4.343038594, -5.737124705), (-4.242835561, -5.896719991))
            ThreePointArc((-4.242835561, -5.896719991), (-4.035939958, -6.040210999), (-3.824196033, -6.176445981))
            ThreePointArc((-3.824196033, -6.176445981), (-3.638403174, -6.20794704), (-3.483398468, -6.100779674))
            ThreePointArc((-3.483398468, -6.100779674), (-3.374769892, -5.954686513), (-3.249454025, -5.822628523))
            ThreePointArc((-3.249454025, -5.822628523), (-2.343744682, -5.658300197), (-1.819509137, -6.414931089))
            ThreePointArc((-1.819509137, -6.414931089), (-1.824276538, -6.596921889), (-1.850768, -6.777037356))
        make_face()
        Circle(SKETCH1_R, mode=Mode.SUBTRACT)
    extrude(amount=BOSS_EXTRUDE1_DEPTH, both=True)


with BuildPart() as body_2:
    # Sketch4 → Revolve1 (revolve)
    with BuildSketch(Plane.XY):
        Polygon((-7.62, 3.175), (-3, 3.175), (-3, 5.62102), (-4, 5.62102), (-5.17602, 4.445), (-8.89, 4.445), align=None)
        Polygon((-7.62, -3.175), (-8.89, -4.445), (-5.27, -4.445), (-4, -5.715), (-3, -5.715), (-3, -3.175), align=None)
    revolve(axis=Axis((0, 0, 0), (0, 1, 0)))


solid = Compound([part.part, body_2.part])
